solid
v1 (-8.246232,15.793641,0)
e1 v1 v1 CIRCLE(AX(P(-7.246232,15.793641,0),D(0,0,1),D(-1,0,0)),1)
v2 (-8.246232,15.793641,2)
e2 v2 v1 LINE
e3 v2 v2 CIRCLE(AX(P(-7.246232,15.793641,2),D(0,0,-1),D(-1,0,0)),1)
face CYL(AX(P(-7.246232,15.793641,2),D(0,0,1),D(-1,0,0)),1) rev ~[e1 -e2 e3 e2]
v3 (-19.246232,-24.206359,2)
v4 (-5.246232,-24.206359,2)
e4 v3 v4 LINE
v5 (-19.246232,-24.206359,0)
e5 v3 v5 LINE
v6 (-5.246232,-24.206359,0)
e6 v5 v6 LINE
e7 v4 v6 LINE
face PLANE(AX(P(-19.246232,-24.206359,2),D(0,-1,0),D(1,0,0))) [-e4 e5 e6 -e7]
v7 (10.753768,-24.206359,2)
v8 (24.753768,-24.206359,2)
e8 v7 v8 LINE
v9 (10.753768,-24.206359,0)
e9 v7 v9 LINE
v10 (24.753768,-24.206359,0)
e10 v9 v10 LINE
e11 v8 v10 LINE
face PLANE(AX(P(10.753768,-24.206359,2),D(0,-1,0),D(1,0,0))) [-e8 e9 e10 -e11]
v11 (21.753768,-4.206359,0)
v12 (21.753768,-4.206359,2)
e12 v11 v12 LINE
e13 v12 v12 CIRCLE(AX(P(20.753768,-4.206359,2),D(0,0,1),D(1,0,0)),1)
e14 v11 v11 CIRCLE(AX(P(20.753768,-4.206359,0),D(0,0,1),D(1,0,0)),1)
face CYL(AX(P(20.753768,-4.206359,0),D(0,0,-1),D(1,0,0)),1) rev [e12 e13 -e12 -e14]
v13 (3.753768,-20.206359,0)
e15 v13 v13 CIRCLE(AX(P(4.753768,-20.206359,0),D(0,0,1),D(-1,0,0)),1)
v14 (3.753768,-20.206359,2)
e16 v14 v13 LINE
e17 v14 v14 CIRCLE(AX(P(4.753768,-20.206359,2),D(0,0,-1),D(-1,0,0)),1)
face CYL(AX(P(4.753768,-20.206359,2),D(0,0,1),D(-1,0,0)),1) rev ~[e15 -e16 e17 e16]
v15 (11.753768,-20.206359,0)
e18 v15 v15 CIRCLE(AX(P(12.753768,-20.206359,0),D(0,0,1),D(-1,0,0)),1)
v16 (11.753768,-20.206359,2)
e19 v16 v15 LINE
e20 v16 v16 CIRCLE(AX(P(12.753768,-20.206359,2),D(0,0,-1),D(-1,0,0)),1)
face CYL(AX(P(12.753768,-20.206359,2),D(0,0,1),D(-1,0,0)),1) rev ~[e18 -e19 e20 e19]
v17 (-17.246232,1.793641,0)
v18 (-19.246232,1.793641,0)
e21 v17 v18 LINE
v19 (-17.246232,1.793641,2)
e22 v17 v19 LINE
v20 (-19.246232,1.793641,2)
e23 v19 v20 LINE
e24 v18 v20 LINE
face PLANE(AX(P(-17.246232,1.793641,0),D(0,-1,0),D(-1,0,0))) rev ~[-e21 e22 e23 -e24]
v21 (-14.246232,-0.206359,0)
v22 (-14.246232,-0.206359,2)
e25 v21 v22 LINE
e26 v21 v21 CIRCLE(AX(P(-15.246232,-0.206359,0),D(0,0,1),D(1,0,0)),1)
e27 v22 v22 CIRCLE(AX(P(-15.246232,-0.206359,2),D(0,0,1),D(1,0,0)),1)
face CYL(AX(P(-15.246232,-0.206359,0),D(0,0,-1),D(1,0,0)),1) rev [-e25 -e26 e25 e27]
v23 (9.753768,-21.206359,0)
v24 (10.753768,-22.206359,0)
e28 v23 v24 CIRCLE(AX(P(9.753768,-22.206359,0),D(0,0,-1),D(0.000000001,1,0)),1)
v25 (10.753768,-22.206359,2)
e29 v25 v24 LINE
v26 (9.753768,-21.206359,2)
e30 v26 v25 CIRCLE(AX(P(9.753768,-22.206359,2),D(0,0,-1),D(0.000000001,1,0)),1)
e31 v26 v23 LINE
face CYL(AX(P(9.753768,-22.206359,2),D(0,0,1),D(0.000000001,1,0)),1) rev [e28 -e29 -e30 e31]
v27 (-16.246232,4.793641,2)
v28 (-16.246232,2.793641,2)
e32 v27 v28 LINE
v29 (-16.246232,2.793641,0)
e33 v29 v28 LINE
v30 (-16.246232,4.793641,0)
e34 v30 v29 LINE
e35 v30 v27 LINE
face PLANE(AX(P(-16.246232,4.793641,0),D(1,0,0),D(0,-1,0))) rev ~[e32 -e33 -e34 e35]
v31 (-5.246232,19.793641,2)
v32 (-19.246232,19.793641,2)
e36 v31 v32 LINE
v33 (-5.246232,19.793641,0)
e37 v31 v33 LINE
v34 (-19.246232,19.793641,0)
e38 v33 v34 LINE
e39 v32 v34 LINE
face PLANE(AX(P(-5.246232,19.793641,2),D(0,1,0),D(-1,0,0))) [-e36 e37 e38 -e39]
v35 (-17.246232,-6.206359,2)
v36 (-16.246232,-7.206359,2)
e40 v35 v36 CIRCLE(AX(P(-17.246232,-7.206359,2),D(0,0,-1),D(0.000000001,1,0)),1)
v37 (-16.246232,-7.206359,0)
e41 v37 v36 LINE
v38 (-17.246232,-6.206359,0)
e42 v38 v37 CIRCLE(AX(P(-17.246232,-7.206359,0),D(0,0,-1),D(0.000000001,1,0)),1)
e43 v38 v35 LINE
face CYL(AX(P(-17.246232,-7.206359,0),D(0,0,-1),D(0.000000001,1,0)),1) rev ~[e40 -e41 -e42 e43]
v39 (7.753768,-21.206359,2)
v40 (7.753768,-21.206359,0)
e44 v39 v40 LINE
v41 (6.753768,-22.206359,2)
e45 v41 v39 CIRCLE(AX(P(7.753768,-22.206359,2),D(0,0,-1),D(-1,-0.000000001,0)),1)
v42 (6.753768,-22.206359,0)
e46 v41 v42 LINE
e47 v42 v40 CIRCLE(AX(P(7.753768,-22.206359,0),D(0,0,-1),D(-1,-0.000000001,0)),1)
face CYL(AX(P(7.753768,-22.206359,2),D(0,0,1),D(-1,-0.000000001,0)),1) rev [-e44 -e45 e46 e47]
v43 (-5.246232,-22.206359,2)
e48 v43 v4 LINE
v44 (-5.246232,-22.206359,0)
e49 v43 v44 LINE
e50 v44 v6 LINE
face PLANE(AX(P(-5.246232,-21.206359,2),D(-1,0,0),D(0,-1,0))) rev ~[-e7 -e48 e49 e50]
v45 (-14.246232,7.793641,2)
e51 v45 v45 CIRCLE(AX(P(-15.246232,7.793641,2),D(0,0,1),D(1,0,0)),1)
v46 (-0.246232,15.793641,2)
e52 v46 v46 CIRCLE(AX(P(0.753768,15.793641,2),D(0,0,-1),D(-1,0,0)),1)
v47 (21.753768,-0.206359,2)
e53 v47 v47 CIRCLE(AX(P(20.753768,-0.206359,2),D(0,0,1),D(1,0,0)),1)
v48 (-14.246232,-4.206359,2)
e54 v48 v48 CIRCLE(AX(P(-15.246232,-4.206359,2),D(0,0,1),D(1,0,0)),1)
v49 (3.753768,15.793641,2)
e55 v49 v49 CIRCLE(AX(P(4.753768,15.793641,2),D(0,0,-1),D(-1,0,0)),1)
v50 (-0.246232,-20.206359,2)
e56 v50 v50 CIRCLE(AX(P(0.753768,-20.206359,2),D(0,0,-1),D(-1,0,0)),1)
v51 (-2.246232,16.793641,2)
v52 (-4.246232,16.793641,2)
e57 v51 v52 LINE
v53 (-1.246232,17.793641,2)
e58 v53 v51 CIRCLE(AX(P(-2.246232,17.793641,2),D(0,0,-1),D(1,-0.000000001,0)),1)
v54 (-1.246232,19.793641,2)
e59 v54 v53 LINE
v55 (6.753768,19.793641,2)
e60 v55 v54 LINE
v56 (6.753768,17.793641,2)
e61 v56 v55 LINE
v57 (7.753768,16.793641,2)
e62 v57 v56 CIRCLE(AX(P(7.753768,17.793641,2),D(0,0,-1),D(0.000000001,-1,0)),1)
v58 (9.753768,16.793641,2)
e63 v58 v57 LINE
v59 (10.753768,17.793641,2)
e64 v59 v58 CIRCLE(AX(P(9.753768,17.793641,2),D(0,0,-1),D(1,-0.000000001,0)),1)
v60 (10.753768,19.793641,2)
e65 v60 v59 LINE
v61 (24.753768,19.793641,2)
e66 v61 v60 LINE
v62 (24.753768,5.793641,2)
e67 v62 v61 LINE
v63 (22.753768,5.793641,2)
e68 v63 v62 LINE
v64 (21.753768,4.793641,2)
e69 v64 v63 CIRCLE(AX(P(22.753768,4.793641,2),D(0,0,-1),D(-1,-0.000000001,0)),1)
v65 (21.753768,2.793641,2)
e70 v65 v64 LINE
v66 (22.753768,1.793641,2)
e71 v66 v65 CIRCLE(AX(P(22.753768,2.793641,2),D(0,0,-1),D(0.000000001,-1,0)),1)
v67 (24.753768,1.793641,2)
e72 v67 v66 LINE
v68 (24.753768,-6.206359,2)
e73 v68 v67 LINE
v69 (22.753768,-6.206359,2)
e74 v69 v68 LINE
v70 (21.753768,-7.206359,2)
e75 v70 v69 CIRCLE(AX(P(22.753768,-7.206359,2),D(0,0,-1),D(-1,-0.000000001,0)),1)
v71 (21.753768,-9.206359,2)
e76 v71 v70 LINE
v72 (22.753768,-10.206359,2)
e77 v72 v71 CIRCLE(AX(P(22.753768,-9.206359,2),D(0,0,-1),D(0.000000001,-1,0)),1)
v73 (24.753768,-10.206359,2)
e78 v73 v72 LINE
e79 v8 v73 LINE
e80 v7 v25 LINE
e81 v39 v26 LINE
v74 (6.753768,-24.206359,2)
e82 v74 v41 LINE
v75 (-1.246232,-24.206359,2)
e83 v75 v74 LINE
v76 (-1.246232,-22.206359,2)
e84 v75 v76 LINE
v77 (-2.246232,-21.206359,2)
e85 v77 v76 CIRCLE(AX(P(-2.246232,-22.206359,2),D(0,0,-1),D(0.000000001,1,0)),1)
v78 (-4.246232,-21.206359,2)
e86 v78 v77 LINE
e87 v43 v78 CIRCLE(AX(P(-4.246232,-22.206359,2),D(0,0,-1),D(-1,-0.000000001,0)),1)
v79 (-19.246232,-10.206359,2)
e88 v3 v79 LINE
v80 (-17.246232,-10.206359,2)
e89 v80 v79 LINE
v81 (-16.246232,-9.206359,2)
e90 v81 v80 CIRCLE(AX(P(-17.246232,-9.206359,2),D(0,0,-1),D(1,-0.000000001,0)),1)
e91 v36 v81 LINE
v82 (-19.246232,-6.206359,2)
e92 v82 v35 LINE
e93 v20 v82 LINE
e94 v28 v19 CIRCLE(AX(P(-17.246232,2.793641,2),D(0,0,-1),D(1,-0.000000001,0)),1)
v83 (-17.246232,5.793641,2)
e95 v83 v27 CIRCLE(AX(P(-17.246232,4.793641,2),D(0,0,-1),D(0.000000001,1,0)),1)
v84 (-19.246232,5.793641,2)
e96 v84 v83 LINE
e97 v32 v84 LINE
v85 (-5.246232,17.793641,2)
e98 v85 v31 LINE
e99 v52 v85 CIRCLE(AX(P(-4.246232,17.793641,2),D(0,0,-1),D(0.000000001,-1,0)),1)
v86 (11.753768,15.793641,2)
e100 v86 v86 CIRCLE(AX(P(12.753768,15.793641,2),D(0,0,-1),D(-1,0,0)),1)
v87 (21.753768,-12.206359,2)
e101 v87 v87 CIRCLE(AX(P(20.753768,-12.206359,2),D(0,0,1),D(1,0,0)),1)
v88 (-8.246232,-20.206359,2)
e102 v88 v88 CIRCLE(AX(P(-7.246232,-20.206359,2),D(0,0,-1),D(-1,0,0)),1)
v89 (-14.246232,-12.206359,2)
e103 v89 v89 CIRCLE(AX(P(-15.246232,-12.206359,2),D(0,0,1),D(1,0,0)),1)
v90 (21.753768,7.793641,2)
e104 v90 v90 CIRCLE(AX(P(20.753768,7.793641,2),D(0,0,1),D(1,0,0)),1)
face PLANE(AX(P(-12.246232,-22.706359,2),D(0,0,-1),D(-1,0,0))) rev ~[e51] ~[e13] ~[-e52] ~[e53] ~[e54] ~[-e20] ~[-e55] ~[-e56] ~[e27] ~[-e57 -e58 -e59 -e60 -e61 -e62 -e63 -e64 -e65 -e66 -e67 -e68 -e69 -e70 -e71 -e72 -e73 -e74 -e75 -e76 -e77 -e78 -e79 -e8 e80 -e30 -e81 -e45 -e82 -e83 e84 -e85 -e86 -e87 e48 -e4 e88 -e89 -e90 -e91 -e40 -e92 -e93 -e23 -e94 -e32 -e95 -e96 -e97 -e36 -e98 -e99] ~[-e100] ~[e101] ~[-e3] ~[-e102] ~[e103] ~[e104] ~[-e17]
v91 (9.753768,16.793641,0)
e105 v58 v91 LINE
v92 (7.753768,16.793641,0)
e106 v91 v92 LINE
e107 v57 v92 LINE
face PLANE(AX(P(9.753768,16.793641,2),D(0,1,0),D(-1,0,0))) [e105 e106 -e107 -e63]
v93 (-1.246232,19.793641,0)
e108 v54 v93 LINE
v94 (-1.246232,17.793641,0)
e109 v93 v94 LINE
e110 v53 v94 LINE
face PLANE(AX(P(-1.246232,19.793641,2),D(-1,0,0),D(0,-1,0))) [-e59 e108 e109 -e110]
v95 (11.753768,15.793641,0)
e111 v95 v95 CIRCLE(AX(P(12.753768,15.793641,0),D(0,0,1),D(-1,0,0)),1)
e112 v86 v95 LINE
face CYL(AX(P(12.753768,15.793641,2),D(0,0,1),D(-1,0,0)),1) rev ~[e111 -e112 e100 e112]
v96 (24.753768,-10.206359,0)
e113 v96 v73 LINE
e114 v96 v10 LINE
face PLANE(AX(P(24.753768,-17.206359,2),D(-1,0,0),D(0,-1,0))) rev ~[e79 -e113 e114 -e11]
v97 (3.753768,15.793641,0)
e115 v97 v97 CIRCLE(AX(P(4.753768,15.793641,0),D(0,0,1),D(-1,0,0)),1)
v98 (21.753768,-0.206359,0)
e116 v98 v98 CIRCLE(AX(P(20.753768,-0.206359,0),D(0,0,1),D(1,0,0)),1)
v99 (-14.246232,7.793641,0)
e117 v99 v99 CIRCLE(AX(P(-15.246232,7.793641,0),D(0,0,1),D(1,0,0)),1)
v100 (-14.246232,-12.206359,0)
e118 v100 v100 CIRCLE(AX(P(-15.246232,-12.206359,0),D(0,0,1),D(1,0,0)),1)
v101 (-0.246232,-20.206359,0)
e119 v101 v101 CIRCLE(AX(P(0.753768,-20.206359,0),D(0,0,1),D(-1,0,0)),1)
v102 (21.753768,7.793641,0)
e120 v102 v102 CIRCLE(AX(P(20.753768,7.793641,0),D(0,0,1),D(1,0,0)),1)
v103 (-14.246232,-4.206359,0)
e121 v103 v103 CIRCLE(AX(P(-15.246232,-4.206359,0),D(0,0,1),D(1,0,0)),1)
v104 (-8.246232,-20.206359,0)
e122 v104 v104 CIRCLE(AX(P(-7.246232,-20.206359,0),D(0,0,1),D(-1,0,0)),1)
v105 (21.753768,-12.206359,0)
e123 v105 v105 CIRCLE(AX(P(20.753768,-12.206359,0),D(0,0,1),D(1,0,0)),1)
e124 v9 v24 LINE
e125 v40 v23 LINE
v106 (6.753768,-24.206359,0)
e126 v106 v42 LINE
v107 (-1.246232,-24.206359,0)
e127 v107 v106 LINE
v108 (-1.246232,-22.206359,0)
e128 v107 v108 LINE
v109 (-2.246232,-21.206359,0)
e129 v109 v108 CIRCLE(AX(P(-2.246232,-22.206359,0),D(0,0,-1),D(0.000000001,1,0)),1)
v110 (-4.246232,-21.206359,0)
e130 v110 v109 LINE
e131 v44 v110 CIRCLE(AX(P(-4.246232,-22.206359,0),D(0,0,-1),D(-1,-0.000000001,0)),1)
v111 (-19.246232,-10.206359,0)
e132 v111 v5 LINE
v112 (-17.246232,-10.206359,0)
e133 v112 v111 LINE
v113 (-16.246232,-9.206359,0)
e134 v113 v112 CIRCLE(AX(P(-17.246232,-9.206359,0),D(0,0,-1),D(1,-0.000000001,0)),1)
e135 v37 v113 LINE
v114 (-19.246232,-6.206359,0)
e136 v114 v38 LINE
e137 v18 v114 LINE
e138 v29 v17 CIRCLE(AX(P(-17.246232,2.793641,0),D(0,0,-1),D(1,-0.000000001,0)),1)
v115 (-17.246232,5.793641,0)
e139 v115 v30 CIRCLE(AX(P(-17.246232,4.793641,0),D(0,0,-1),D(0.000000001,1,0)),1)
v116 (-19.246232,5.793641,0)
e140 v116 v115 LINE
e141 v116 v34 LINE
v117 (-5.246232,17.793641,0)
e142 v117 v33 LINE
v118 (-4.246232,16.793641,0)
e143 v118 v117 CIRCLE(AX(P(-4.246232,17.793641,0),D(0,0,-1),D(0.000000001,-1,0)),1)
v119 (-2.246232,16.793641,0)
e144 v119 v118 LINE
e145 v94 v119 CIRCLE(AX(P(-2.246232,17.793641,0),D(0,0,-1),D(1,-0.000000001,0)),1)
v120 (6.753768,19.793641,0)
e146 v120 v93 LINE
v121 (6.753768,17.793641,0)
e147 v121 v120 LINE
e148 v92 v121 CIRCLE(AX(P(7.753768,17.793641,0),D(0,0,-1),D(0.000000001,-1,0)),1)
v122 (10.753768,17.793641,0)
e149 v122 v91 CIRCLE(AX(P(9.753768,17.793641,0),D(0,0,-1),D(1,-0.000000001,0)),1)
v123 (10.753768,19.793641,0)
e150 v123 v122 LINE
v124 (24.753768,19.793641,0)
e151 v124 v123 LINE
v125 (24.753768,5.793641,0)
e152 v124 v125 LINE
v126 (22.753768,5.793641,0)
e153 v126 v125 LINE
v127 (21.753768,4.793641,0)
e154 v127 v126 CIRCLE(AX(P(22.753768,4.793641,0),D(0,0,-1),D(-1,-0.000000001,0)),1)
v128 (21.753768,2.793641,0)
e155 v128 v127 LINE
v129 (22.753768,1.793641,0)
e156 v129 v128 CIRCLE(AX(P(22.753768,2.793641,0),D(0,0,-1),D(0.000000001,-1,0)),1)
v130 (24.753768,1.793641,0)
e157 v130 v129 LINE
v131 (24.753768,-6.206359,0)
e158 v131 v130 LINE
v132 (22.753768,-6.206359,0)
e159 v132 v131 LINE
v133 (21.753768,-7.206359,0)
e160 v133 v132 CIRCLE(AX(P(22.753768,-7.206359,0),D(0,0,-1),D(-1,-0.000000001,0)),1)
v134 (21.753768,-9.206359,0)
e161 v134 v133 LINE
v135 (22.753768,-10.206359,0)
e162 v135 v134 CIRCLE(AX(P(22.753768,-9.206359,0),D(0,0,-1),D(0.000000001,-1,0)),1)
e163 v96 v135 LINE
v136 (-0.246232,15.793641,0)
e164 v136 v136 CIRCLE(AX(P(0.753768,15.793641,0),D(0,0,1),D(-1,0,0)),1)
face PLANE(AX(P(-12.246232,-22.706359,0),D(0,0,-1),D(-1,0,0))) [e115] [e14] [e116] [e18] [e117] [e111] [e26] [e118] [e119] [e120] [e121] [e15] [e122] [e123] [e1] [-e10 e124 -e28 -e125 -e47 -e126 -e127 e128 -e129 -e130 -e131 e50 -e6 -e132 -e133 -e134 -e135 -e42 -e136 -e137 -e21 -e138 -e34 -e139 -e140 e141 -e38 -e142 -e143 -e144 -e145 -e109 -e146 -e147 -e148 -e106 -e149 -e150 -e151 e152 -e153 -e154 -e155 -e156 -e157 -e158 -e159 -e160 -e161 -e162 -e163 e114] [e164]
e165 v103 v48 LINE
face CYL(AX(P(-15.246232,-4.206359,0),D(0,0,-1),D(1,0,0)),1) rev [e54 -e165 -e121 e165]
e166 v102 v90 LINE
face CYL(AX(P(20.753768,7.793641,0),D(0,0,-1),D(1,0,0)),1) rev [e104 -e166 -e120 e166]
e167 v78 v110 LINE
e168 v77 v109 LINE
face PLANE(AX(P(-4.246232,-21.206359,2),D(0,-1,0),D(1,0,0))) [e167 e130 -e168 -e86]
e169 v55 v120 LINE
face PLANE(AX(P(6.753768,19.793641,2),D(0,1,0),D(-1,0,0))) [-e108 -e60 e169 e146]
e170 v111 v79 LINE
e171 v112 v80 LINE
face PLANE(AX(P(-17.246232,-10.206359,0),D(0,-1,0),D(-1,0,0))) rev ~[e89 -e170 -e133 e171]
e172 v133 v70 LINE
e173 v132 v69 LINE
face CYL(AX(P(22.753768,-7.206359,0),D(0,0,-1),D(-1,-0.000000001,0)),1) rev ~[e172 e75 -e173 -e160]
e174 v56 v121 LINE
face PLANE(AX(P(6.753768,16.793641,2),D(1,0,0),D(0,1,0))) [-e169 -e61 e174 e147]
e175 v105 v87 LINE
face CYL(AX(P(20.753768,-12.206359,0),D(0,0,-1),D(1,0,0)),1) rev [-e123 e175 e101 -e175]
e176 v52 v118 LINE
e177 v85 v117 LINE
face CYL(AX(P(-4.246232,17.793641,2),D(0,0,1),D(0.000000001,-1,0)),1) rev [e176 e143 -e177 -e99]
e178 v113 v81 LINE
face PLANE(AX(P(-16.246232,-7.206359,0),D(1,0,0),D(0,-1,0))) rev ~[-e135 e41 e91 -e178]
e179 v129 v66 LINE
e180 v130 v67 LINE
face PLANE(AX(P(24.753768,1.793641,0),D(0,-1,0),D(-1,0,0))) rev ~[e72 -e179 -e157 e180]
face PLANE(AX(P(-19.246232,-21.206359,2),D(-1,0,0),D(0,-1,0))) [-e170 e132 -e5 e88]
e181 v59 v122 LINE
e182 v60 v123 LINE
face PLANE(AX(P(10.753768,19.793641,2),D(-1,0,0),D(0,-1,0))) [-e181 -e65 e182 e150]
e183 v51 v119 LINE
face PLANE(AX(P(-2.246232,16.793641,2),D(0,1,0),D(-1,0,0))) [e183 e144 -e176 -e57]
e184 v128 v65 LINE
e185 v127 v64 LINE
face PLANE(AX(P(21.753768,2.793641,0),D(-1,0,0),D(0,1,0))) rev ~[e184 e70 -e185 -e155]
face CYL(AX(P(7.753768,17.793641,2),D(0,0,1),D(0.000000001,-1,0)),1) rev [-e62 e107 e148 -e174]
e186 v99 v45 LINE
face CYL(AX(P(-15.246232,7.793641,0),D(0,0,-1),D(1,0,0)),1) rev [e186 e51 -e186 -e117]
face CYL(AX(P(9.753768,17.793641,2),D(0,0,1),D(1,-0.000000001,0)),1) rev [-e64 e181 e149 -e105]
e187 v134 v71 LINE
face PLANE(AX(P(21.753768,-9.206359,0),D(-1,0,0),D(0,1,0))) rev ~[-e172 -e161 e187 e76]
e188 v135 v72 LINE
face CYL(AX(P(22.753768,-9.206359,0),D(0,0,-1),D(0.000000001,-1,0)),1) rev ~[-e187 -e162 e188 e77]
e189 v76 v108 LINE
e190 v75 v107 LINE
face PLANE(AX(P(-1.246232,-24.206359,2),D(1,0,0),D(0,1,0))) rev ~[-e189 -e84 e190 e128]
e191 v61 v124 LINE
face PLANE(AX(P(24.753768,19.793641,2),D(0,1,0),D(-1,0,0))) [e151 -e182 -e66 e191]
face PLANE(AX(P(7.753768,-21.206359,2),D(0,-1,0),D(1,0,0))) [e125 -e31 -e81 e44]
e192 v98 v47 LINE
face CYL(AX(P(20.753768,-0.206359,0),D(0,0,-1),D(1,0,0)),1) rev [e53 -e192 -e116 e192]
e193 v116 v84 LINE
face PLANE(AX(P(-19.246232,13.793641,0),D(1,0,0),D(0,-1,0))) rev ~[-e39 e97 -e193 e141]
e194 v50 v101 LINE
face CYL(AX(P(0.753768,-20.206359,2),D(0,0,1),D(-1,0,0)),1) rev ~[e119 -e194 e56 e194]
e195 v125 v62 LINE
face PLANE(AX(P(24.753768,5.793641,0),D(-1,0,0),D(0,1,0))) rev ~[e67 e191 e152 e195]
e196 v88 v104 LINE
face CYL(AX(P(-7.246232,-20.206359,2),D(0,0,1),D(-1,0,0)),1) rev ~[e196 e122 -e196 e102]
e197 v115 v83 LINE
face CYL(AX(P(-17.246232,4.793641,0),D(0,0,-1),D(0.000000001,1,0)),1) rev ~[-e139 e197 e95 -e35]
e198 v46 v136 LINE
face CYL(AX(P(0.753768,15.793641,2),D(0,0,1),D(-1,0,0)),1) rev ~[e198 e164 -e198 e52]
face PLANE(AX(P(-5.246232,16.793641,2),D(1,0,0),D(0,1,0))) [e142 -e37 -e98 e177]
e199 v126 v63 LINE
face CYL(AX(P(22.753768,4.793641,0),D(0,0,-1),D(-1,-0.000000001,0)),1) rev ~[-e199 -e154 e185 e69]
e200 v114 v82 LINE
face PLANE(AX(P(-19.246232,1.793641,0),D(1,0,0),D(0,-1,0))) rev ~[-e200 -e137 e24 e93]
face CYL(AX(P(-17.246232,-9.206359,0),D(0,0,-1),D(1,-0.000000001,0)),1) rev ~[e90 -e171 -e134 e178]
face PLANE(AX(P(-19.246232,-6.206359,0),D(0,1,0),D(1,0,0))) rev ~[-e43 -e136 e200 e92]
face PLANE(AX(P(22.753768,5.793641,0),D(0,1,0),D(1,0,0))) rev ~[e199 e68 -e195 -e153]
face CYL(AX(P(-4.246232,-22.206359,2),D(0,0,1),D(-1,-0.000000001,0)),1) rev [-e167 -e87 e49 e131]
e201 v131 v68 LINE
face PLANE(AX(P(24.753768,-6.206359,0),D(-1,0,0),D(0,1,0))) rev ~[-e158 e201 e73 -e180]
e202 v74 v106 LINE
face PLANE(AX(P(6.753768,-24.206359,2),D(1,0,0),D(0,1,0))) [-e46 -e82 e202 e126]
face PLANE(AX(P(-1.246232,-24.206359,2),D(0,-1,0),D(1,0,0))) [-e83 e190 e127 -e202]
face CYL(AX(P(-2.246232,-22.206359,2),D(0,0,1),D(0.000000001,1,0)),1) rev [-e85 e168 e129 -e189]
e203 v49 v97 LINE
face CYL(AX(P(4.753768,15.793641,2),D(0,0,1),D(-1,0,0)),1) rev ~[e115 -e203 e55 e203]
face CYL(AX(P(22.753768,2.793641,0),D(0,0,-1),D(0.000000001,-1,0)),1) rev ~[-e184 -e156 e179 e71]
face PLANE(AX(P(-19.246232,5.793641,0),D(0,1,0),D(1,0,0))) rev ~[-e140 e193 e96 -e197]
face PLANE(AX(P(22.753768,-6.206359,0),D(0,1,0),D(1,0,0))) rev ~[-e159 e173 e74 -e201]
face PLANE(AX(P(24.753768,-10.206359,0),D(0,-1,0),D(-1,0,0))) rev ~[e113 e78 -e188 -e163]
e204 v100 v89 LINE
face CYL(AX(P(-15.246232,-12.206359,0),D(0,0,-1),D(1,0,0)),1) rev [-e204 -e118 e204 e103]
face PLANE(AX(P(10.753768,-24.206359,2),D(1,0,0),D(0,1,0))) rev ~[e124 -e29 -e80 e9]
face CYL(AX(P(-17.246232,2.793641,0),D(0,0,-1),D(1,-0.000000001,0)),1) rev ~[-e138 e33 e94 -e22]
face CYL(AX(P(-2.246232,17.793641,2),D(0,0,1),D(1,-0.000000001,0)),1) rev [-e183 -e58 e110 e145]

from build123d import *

# Parameters (mm, degrees)
SKETCH_1_R          = 1
EXTRUDE_4_DEPTH     = 2
FILLET_1_R          = 1
EXTRUDE_5_DEPTH     = 2
SKETCH_5_R          = 1
CUT_EXTRUDE_3_DEPTH = 2
SKETCH_6_W          = 8
SKETCH_6_H          = 3
EXTRUDE_6_DEPTH     = 2


with BuildPart() as part:
    # 草圖1 → 填料-伸長4 (new body)
    with BuildSketch(Plane.XY):
        with BuildLine():
            Line((-19.246232324, 5.793640832), (-17.246232324, 5.793640832))
            ThreePointArc((-17.246232324, 5.793640832), (-16.539125543, 5.500747613), (-16.246232324, 4.793640832))
            Line((-16.246232324, 4.793640832), (-16.246232324, 2.793640832))
            ThreePointArc((-16.246232324, 2.793640832), (-16.539125543, 2.086534051), (-17.246232324, 1.793640832))
            Line((-17.246232324, 1.793640832), (-19.246232324, 1.793640832))
            Line((-19.246232324, 1.793640832), (-19.246232324, -6.206359168))
            Line((-19.246232324, -6.206359168), (-17.246232324, -6.206359168))
            ThreePointArc((-17.246232324, -6.206359168), (-16.539125543, -6.499252387), (-16.246232324, -7.206359168))
            Line((-16.246232324, -7.206359168), (-16.246232324, -9.206359168))
            ThreePointArc((-16.246232324, -9.206359168), (-16.539125543, -9.913465949), (-17.246232324, -10.206359168))
            Line((-17.246232324, -10.206359168), (-19.246232324, -10.206359168))
            Line((-19.246232324, -10.206359168), (-19.246232324, -18.206359168))
            Line((-19.246232324, -18.206359168), (24.753767676, -18.206359168))
            Line((24.753767676, -18.206359168), (24.753767676, -10.206359168))
            Line((24.753767676, -10.206359168), (22.753767676, -10.206359168))
            ThreePointArc((22.753767676, -10.206359168), (22.046660894, -9.913465949), (21.753767676, -9.206359168))
            Line((21.753767676, -9.206359168), (21.753767676, -7.206359168))
            ThreePointArc((21.753767676, -7.206359168), (22.046660894, -6.499252387), (22.753767676, -6.206359168))
            Line((22.753767676, -6.206359168), (24.753767676, -6.206359168))
            Line((24.753767676, -6.206359168), (24.753767676, 1.793640832))
            Line((24.753767676, 1.793640832), (22.753767676, 1.793640832))
            ThreePointArc((22.753767676, 1.793640832), (22.046660894, 2.086534051), (21.753767676, 2.793640832))
            Line((21.753767676, 2.793640832), (21.753767676, 4.793640832))
            ThreePointArc((21.753767676, 4.793640832), (22.046660894, 5.500747613), (22.753767676, 5.793640832))
            Line((22.753767676, 5.793640832), (24.753767676, 5.793640832))
            Line((24.753767676, 5.793640832), (24.753767676, 13.793640832))
            Line((24.753767676, 13.793640832), (-19.246232324, 13.793640832))
            Line((-19.246232324, 13.793640832), (-19.246232324, 5.793640832))
        make_face()
        with Locations((-15.246232324, 7.793640832)):
            Circle(SKETCH_1_R, mode=Mode.SUBTRACT)
        with Locations((-15.246232324, -0.206359168)):
            Circle(SKETCH_1_R, mode=Mode.SUBTRACT)
        with Locations((20.753767676, -12.206359168)):
            Circle(SKETCH_1_R, mode=Mode.SUBTRACT)
        with Locations((20.753767676, 7.793640832)):
            Circle(SKETCH_1_R, mode=Mode.SUBTRACT)
        with Locations((-15.246232324, -4.206359168)):
            Circle(SKETCH_1_R, mode=Mode.SUBTRACT)
        with Locations((-15.246232324, -12.206359168)):
            Circle(SKETCH_1_R, mode=Mode.SUBTRACT)
        with Locations((20.753767676, -0.206359168)):
            Circle(SKETCH_1_R, mode=Mode.SUBTRACT)
        with Locations((20.753767676, -4.206359168)):
            Circle(SKETCH_1_R, mode=Mode.SUBTRACT)
    extrude(amount=EXTRUDE_4_DEPTH)

    # 圓角1
    fillet_1_edges = [part.edges().sort_by_distance(p)[0] for p in [
        (-19.246232324, 13.793640832, 1),
        (24.753767676, 13.793640832, 1),
        (24.753767676, -18.206359168, 1),
        (-19.246232324, -18.206359168, 1),
    ]]
    fillet(fillet_1_edges, radius=FILLET_1_R)

    # 草圖4 → 填料-伸長5 (add)
    with BuildSketch(Plane.XY.offset(2)):
        with BuildLine():
            Line((-19.246232324, -21.206359168), (-19.246232324, -17.206359168))
            Line((-19.246232324, -17.206359168), (24.753767676, -17.206359168))
            Line((24.753767676, -17.206359168), (24.753767676, -21.206359168))
            ThreePointArc((24.753767676, -21.206359168), (24.460874457, -21.913465949), (23.753767676, -22.206359168))
            Line((23.753767676, -22.206359168), (-18.246232324, -22.206359168))
            ThreePointArc((-18.246232324, -22.206359168), (-18.953339106, -21.913465949), (-19.246232324, -21.206359168))
        make_face()
        with BuildLine():
            Line((-19.246232324, 12.793640832), (24.753767676, 12.793640832))
            Line((24.753767676, 12.793640832), (24.753767676, 16.793640832))
            ThreePointArc((24.753767676, 16.793640832), (24.460874457, 17.500747613), (23.753767676, 17.793640832))
            Line((23.753767676, 17.793640832), (-18.246232324, 17.793640832))
            ThreePointArc((-18.246232324, 17.793640832), (-18.953339106, 17.500747613), (-19.246232324, 16.793640832))
            Line((-19.246232324, 16.793640832), (-19.246232324, 12.793640832))
        make_face()
    extrude(amount=-EXTRUDE_5_DEPTH)

    # 草圖5 → 除料-伸長3 (cut)
    with BuildSketch(Plane.XY.offset(2)):
        with Locations(Location((12.753767676, 15.793640832, 0), (0, 0, 180))):
            Circle(SKETCH_5_R)
        with Locations(Location((0.753767676, 15.793640832, 0), (0, 0, 180))):
            Circle(SKETCH_5_R)
        with Locations(Location((0.753767676, -20.206359168, 0), (0, 0, 180))):
            Circle(SKETCH_5_R)
        with Locations(Location((-7.246232324, -20.206359168, 0), (0, 0, 180))):
            Circle(SKETCH_5_R)
        with Locations(Location((4.753767676, -20.206359168, 0), (0, 0, 180))):
            Circle(SKETCH_5_R)
        with Locations(Location((12.753767676, -20.206359168, 0), (0, 0, 180))):
            Circle(SKETCH_5_R)
        with Locations(Location((-7.246232324, 15.793640832, 0), (0, 0, 180))):
            Circle(SKETCH_5_R)
        with Locations(Location((4.753767676, 15.793640832, 0), (0, 0, 180))):
            Circle(SKETCH_5_R)
        with BuildLine():
            Line((-5.246232324, 19.793640832), (-1.246232324, 19.793640832))
            Line((-1.246232324, 19.793640832), (-1.246232324, 17.793640832))
            ThreePointArc((-1.246232324, 17.793640832), (-1.539125543, 17.086534051), (-2.246232324, 16.793640832))
            Line((-2.246232324, 16.793640832), (-4.246232324, 16.793640832))
            ThreePointArc((-4.246232324, 16.793640832), (-4.953339106, 17.086534051), (-5.246232324, 17.793640832))
            Line((-5.246232324, 17.793640832), (-5.246232324, 19.793640832))
        make_face()
        with BuildLine():
            Line((9.753767676, 16.793640832), (7.753767676, 16.793640832))
            ThreePointArc((7.753767676, 16.793640832), (7.046660894, 17.086534051), (6.753767676, 17.793640832))
            Line((6.753767676, 17.793640832), (6.753767676, 19.793640832))
            Line((6.753767676, 19.793640832), (10.753767676, 19.793640832))
            Line((10.753767676, 19.793640832), (10.753767676, 17.793640832))
            ThreePointArc((10.753767676, 17.793640832), (10.460874457, 17.086534051), (9.753767676, 16.793640832))
        make_face()
        with BuildLine():
            Line((10.753767676, -24.206359168), (6.753767676, -24.206359168))
            Line((6.753767676, -24.206359168), (6.753767676, -22.206359168))
            ThreePointArc((6.753767676, -22.206359168), (7.046660894, -21.499252387), (7.753767676, -21.206359168))
            Line((7.753767676, -21.206359168), (9.753767676, -21.206359168))
            ThreePointArc((9.753767676, -21.206359168), (10.460874457, -21.499252387), (10.753767676, -22.206359168))
            Line((10.753767676, -22.206359168), (10.753767676, -24.206359168))
        make_face()
        with BuildLine():
            Line((-4.246232324, -21.206359168), (-2.246232324, -21.206359168))
            ThreePointArc((-2.246232324, -21.206359168), (-1.539125543, -21.499252387), (-1.246232324, -22.206359168))
            Line((-1.246232324, -22.206359168), (-1.246232324, -24.206359168))
            Line((-1.246232324, -24.206359168), (-5.246232324, -24.206359168))
            Line((-5.246232324, -24.206359168), (-5.246232324, -22.206359168))
            ThreePointArc((-5.246232324, -22.206359168), (-4.953339106, -21.499252387), (-4.246232324, -21.206359168))
        make_face()
    extrude(amount=-CUT_EXTRUDE_3_DEPTH, mode=Mode.SUBTRACT)

    # 草圖6 → 填料-伸長6 (add)
    with BuildSketch(Plane.XY.offset(2)):
        Polygon((-19.246232324, -23.206359168), (-19.246232324, -21.206359168), (-5.246232324, -21.206359168), (-5.246232324, -24.206359168), (-18.246232324, -24.206359168), (-19.246232324, -24.206359168), align=None)
        Polygon((-19.246232324, 16.793640832), (-5.246232324, 16.793640832), (-5.246232324, 17.793640832), (-5.246232324, 19.793640832), (-18.246232324, 19.793640832), (-19.246232324, 19.793640832), (-19.246232324, 18.793640832), align=None)
        Polygon((24.753767676, 16.793640832), (24.753767676, 18.793640832), (24.753767676, 19.793640832), (23.753767676, 19.793640832), (10.753767676, 19.793640832), (10.753767676, 16.793640832), align=None)
        Polygon((24.753767676, -21.206359168), (24.753767676, -23.206359168), (24.753767676, -24.206359168), (23.753767676, -24.206359168), (10.753767676, -24.206359168), (10.753767676, -21.206359168), align=None)
        Polygon((-1.246232324, 17.793640832), (-1.246232324, 16.793640832), (6.753767676, 16.793640832), (6.753767676, 19.793640832), (-1.246232324, 19.793640832), align=None)
        with Locations((2.753767676, -22.706359168)):
            Rectangle(SKETCH_6_W, SKETCH_6_H)
    extrude(amount=-EXTRUDE_6_DEPTH)


solid = part.part
